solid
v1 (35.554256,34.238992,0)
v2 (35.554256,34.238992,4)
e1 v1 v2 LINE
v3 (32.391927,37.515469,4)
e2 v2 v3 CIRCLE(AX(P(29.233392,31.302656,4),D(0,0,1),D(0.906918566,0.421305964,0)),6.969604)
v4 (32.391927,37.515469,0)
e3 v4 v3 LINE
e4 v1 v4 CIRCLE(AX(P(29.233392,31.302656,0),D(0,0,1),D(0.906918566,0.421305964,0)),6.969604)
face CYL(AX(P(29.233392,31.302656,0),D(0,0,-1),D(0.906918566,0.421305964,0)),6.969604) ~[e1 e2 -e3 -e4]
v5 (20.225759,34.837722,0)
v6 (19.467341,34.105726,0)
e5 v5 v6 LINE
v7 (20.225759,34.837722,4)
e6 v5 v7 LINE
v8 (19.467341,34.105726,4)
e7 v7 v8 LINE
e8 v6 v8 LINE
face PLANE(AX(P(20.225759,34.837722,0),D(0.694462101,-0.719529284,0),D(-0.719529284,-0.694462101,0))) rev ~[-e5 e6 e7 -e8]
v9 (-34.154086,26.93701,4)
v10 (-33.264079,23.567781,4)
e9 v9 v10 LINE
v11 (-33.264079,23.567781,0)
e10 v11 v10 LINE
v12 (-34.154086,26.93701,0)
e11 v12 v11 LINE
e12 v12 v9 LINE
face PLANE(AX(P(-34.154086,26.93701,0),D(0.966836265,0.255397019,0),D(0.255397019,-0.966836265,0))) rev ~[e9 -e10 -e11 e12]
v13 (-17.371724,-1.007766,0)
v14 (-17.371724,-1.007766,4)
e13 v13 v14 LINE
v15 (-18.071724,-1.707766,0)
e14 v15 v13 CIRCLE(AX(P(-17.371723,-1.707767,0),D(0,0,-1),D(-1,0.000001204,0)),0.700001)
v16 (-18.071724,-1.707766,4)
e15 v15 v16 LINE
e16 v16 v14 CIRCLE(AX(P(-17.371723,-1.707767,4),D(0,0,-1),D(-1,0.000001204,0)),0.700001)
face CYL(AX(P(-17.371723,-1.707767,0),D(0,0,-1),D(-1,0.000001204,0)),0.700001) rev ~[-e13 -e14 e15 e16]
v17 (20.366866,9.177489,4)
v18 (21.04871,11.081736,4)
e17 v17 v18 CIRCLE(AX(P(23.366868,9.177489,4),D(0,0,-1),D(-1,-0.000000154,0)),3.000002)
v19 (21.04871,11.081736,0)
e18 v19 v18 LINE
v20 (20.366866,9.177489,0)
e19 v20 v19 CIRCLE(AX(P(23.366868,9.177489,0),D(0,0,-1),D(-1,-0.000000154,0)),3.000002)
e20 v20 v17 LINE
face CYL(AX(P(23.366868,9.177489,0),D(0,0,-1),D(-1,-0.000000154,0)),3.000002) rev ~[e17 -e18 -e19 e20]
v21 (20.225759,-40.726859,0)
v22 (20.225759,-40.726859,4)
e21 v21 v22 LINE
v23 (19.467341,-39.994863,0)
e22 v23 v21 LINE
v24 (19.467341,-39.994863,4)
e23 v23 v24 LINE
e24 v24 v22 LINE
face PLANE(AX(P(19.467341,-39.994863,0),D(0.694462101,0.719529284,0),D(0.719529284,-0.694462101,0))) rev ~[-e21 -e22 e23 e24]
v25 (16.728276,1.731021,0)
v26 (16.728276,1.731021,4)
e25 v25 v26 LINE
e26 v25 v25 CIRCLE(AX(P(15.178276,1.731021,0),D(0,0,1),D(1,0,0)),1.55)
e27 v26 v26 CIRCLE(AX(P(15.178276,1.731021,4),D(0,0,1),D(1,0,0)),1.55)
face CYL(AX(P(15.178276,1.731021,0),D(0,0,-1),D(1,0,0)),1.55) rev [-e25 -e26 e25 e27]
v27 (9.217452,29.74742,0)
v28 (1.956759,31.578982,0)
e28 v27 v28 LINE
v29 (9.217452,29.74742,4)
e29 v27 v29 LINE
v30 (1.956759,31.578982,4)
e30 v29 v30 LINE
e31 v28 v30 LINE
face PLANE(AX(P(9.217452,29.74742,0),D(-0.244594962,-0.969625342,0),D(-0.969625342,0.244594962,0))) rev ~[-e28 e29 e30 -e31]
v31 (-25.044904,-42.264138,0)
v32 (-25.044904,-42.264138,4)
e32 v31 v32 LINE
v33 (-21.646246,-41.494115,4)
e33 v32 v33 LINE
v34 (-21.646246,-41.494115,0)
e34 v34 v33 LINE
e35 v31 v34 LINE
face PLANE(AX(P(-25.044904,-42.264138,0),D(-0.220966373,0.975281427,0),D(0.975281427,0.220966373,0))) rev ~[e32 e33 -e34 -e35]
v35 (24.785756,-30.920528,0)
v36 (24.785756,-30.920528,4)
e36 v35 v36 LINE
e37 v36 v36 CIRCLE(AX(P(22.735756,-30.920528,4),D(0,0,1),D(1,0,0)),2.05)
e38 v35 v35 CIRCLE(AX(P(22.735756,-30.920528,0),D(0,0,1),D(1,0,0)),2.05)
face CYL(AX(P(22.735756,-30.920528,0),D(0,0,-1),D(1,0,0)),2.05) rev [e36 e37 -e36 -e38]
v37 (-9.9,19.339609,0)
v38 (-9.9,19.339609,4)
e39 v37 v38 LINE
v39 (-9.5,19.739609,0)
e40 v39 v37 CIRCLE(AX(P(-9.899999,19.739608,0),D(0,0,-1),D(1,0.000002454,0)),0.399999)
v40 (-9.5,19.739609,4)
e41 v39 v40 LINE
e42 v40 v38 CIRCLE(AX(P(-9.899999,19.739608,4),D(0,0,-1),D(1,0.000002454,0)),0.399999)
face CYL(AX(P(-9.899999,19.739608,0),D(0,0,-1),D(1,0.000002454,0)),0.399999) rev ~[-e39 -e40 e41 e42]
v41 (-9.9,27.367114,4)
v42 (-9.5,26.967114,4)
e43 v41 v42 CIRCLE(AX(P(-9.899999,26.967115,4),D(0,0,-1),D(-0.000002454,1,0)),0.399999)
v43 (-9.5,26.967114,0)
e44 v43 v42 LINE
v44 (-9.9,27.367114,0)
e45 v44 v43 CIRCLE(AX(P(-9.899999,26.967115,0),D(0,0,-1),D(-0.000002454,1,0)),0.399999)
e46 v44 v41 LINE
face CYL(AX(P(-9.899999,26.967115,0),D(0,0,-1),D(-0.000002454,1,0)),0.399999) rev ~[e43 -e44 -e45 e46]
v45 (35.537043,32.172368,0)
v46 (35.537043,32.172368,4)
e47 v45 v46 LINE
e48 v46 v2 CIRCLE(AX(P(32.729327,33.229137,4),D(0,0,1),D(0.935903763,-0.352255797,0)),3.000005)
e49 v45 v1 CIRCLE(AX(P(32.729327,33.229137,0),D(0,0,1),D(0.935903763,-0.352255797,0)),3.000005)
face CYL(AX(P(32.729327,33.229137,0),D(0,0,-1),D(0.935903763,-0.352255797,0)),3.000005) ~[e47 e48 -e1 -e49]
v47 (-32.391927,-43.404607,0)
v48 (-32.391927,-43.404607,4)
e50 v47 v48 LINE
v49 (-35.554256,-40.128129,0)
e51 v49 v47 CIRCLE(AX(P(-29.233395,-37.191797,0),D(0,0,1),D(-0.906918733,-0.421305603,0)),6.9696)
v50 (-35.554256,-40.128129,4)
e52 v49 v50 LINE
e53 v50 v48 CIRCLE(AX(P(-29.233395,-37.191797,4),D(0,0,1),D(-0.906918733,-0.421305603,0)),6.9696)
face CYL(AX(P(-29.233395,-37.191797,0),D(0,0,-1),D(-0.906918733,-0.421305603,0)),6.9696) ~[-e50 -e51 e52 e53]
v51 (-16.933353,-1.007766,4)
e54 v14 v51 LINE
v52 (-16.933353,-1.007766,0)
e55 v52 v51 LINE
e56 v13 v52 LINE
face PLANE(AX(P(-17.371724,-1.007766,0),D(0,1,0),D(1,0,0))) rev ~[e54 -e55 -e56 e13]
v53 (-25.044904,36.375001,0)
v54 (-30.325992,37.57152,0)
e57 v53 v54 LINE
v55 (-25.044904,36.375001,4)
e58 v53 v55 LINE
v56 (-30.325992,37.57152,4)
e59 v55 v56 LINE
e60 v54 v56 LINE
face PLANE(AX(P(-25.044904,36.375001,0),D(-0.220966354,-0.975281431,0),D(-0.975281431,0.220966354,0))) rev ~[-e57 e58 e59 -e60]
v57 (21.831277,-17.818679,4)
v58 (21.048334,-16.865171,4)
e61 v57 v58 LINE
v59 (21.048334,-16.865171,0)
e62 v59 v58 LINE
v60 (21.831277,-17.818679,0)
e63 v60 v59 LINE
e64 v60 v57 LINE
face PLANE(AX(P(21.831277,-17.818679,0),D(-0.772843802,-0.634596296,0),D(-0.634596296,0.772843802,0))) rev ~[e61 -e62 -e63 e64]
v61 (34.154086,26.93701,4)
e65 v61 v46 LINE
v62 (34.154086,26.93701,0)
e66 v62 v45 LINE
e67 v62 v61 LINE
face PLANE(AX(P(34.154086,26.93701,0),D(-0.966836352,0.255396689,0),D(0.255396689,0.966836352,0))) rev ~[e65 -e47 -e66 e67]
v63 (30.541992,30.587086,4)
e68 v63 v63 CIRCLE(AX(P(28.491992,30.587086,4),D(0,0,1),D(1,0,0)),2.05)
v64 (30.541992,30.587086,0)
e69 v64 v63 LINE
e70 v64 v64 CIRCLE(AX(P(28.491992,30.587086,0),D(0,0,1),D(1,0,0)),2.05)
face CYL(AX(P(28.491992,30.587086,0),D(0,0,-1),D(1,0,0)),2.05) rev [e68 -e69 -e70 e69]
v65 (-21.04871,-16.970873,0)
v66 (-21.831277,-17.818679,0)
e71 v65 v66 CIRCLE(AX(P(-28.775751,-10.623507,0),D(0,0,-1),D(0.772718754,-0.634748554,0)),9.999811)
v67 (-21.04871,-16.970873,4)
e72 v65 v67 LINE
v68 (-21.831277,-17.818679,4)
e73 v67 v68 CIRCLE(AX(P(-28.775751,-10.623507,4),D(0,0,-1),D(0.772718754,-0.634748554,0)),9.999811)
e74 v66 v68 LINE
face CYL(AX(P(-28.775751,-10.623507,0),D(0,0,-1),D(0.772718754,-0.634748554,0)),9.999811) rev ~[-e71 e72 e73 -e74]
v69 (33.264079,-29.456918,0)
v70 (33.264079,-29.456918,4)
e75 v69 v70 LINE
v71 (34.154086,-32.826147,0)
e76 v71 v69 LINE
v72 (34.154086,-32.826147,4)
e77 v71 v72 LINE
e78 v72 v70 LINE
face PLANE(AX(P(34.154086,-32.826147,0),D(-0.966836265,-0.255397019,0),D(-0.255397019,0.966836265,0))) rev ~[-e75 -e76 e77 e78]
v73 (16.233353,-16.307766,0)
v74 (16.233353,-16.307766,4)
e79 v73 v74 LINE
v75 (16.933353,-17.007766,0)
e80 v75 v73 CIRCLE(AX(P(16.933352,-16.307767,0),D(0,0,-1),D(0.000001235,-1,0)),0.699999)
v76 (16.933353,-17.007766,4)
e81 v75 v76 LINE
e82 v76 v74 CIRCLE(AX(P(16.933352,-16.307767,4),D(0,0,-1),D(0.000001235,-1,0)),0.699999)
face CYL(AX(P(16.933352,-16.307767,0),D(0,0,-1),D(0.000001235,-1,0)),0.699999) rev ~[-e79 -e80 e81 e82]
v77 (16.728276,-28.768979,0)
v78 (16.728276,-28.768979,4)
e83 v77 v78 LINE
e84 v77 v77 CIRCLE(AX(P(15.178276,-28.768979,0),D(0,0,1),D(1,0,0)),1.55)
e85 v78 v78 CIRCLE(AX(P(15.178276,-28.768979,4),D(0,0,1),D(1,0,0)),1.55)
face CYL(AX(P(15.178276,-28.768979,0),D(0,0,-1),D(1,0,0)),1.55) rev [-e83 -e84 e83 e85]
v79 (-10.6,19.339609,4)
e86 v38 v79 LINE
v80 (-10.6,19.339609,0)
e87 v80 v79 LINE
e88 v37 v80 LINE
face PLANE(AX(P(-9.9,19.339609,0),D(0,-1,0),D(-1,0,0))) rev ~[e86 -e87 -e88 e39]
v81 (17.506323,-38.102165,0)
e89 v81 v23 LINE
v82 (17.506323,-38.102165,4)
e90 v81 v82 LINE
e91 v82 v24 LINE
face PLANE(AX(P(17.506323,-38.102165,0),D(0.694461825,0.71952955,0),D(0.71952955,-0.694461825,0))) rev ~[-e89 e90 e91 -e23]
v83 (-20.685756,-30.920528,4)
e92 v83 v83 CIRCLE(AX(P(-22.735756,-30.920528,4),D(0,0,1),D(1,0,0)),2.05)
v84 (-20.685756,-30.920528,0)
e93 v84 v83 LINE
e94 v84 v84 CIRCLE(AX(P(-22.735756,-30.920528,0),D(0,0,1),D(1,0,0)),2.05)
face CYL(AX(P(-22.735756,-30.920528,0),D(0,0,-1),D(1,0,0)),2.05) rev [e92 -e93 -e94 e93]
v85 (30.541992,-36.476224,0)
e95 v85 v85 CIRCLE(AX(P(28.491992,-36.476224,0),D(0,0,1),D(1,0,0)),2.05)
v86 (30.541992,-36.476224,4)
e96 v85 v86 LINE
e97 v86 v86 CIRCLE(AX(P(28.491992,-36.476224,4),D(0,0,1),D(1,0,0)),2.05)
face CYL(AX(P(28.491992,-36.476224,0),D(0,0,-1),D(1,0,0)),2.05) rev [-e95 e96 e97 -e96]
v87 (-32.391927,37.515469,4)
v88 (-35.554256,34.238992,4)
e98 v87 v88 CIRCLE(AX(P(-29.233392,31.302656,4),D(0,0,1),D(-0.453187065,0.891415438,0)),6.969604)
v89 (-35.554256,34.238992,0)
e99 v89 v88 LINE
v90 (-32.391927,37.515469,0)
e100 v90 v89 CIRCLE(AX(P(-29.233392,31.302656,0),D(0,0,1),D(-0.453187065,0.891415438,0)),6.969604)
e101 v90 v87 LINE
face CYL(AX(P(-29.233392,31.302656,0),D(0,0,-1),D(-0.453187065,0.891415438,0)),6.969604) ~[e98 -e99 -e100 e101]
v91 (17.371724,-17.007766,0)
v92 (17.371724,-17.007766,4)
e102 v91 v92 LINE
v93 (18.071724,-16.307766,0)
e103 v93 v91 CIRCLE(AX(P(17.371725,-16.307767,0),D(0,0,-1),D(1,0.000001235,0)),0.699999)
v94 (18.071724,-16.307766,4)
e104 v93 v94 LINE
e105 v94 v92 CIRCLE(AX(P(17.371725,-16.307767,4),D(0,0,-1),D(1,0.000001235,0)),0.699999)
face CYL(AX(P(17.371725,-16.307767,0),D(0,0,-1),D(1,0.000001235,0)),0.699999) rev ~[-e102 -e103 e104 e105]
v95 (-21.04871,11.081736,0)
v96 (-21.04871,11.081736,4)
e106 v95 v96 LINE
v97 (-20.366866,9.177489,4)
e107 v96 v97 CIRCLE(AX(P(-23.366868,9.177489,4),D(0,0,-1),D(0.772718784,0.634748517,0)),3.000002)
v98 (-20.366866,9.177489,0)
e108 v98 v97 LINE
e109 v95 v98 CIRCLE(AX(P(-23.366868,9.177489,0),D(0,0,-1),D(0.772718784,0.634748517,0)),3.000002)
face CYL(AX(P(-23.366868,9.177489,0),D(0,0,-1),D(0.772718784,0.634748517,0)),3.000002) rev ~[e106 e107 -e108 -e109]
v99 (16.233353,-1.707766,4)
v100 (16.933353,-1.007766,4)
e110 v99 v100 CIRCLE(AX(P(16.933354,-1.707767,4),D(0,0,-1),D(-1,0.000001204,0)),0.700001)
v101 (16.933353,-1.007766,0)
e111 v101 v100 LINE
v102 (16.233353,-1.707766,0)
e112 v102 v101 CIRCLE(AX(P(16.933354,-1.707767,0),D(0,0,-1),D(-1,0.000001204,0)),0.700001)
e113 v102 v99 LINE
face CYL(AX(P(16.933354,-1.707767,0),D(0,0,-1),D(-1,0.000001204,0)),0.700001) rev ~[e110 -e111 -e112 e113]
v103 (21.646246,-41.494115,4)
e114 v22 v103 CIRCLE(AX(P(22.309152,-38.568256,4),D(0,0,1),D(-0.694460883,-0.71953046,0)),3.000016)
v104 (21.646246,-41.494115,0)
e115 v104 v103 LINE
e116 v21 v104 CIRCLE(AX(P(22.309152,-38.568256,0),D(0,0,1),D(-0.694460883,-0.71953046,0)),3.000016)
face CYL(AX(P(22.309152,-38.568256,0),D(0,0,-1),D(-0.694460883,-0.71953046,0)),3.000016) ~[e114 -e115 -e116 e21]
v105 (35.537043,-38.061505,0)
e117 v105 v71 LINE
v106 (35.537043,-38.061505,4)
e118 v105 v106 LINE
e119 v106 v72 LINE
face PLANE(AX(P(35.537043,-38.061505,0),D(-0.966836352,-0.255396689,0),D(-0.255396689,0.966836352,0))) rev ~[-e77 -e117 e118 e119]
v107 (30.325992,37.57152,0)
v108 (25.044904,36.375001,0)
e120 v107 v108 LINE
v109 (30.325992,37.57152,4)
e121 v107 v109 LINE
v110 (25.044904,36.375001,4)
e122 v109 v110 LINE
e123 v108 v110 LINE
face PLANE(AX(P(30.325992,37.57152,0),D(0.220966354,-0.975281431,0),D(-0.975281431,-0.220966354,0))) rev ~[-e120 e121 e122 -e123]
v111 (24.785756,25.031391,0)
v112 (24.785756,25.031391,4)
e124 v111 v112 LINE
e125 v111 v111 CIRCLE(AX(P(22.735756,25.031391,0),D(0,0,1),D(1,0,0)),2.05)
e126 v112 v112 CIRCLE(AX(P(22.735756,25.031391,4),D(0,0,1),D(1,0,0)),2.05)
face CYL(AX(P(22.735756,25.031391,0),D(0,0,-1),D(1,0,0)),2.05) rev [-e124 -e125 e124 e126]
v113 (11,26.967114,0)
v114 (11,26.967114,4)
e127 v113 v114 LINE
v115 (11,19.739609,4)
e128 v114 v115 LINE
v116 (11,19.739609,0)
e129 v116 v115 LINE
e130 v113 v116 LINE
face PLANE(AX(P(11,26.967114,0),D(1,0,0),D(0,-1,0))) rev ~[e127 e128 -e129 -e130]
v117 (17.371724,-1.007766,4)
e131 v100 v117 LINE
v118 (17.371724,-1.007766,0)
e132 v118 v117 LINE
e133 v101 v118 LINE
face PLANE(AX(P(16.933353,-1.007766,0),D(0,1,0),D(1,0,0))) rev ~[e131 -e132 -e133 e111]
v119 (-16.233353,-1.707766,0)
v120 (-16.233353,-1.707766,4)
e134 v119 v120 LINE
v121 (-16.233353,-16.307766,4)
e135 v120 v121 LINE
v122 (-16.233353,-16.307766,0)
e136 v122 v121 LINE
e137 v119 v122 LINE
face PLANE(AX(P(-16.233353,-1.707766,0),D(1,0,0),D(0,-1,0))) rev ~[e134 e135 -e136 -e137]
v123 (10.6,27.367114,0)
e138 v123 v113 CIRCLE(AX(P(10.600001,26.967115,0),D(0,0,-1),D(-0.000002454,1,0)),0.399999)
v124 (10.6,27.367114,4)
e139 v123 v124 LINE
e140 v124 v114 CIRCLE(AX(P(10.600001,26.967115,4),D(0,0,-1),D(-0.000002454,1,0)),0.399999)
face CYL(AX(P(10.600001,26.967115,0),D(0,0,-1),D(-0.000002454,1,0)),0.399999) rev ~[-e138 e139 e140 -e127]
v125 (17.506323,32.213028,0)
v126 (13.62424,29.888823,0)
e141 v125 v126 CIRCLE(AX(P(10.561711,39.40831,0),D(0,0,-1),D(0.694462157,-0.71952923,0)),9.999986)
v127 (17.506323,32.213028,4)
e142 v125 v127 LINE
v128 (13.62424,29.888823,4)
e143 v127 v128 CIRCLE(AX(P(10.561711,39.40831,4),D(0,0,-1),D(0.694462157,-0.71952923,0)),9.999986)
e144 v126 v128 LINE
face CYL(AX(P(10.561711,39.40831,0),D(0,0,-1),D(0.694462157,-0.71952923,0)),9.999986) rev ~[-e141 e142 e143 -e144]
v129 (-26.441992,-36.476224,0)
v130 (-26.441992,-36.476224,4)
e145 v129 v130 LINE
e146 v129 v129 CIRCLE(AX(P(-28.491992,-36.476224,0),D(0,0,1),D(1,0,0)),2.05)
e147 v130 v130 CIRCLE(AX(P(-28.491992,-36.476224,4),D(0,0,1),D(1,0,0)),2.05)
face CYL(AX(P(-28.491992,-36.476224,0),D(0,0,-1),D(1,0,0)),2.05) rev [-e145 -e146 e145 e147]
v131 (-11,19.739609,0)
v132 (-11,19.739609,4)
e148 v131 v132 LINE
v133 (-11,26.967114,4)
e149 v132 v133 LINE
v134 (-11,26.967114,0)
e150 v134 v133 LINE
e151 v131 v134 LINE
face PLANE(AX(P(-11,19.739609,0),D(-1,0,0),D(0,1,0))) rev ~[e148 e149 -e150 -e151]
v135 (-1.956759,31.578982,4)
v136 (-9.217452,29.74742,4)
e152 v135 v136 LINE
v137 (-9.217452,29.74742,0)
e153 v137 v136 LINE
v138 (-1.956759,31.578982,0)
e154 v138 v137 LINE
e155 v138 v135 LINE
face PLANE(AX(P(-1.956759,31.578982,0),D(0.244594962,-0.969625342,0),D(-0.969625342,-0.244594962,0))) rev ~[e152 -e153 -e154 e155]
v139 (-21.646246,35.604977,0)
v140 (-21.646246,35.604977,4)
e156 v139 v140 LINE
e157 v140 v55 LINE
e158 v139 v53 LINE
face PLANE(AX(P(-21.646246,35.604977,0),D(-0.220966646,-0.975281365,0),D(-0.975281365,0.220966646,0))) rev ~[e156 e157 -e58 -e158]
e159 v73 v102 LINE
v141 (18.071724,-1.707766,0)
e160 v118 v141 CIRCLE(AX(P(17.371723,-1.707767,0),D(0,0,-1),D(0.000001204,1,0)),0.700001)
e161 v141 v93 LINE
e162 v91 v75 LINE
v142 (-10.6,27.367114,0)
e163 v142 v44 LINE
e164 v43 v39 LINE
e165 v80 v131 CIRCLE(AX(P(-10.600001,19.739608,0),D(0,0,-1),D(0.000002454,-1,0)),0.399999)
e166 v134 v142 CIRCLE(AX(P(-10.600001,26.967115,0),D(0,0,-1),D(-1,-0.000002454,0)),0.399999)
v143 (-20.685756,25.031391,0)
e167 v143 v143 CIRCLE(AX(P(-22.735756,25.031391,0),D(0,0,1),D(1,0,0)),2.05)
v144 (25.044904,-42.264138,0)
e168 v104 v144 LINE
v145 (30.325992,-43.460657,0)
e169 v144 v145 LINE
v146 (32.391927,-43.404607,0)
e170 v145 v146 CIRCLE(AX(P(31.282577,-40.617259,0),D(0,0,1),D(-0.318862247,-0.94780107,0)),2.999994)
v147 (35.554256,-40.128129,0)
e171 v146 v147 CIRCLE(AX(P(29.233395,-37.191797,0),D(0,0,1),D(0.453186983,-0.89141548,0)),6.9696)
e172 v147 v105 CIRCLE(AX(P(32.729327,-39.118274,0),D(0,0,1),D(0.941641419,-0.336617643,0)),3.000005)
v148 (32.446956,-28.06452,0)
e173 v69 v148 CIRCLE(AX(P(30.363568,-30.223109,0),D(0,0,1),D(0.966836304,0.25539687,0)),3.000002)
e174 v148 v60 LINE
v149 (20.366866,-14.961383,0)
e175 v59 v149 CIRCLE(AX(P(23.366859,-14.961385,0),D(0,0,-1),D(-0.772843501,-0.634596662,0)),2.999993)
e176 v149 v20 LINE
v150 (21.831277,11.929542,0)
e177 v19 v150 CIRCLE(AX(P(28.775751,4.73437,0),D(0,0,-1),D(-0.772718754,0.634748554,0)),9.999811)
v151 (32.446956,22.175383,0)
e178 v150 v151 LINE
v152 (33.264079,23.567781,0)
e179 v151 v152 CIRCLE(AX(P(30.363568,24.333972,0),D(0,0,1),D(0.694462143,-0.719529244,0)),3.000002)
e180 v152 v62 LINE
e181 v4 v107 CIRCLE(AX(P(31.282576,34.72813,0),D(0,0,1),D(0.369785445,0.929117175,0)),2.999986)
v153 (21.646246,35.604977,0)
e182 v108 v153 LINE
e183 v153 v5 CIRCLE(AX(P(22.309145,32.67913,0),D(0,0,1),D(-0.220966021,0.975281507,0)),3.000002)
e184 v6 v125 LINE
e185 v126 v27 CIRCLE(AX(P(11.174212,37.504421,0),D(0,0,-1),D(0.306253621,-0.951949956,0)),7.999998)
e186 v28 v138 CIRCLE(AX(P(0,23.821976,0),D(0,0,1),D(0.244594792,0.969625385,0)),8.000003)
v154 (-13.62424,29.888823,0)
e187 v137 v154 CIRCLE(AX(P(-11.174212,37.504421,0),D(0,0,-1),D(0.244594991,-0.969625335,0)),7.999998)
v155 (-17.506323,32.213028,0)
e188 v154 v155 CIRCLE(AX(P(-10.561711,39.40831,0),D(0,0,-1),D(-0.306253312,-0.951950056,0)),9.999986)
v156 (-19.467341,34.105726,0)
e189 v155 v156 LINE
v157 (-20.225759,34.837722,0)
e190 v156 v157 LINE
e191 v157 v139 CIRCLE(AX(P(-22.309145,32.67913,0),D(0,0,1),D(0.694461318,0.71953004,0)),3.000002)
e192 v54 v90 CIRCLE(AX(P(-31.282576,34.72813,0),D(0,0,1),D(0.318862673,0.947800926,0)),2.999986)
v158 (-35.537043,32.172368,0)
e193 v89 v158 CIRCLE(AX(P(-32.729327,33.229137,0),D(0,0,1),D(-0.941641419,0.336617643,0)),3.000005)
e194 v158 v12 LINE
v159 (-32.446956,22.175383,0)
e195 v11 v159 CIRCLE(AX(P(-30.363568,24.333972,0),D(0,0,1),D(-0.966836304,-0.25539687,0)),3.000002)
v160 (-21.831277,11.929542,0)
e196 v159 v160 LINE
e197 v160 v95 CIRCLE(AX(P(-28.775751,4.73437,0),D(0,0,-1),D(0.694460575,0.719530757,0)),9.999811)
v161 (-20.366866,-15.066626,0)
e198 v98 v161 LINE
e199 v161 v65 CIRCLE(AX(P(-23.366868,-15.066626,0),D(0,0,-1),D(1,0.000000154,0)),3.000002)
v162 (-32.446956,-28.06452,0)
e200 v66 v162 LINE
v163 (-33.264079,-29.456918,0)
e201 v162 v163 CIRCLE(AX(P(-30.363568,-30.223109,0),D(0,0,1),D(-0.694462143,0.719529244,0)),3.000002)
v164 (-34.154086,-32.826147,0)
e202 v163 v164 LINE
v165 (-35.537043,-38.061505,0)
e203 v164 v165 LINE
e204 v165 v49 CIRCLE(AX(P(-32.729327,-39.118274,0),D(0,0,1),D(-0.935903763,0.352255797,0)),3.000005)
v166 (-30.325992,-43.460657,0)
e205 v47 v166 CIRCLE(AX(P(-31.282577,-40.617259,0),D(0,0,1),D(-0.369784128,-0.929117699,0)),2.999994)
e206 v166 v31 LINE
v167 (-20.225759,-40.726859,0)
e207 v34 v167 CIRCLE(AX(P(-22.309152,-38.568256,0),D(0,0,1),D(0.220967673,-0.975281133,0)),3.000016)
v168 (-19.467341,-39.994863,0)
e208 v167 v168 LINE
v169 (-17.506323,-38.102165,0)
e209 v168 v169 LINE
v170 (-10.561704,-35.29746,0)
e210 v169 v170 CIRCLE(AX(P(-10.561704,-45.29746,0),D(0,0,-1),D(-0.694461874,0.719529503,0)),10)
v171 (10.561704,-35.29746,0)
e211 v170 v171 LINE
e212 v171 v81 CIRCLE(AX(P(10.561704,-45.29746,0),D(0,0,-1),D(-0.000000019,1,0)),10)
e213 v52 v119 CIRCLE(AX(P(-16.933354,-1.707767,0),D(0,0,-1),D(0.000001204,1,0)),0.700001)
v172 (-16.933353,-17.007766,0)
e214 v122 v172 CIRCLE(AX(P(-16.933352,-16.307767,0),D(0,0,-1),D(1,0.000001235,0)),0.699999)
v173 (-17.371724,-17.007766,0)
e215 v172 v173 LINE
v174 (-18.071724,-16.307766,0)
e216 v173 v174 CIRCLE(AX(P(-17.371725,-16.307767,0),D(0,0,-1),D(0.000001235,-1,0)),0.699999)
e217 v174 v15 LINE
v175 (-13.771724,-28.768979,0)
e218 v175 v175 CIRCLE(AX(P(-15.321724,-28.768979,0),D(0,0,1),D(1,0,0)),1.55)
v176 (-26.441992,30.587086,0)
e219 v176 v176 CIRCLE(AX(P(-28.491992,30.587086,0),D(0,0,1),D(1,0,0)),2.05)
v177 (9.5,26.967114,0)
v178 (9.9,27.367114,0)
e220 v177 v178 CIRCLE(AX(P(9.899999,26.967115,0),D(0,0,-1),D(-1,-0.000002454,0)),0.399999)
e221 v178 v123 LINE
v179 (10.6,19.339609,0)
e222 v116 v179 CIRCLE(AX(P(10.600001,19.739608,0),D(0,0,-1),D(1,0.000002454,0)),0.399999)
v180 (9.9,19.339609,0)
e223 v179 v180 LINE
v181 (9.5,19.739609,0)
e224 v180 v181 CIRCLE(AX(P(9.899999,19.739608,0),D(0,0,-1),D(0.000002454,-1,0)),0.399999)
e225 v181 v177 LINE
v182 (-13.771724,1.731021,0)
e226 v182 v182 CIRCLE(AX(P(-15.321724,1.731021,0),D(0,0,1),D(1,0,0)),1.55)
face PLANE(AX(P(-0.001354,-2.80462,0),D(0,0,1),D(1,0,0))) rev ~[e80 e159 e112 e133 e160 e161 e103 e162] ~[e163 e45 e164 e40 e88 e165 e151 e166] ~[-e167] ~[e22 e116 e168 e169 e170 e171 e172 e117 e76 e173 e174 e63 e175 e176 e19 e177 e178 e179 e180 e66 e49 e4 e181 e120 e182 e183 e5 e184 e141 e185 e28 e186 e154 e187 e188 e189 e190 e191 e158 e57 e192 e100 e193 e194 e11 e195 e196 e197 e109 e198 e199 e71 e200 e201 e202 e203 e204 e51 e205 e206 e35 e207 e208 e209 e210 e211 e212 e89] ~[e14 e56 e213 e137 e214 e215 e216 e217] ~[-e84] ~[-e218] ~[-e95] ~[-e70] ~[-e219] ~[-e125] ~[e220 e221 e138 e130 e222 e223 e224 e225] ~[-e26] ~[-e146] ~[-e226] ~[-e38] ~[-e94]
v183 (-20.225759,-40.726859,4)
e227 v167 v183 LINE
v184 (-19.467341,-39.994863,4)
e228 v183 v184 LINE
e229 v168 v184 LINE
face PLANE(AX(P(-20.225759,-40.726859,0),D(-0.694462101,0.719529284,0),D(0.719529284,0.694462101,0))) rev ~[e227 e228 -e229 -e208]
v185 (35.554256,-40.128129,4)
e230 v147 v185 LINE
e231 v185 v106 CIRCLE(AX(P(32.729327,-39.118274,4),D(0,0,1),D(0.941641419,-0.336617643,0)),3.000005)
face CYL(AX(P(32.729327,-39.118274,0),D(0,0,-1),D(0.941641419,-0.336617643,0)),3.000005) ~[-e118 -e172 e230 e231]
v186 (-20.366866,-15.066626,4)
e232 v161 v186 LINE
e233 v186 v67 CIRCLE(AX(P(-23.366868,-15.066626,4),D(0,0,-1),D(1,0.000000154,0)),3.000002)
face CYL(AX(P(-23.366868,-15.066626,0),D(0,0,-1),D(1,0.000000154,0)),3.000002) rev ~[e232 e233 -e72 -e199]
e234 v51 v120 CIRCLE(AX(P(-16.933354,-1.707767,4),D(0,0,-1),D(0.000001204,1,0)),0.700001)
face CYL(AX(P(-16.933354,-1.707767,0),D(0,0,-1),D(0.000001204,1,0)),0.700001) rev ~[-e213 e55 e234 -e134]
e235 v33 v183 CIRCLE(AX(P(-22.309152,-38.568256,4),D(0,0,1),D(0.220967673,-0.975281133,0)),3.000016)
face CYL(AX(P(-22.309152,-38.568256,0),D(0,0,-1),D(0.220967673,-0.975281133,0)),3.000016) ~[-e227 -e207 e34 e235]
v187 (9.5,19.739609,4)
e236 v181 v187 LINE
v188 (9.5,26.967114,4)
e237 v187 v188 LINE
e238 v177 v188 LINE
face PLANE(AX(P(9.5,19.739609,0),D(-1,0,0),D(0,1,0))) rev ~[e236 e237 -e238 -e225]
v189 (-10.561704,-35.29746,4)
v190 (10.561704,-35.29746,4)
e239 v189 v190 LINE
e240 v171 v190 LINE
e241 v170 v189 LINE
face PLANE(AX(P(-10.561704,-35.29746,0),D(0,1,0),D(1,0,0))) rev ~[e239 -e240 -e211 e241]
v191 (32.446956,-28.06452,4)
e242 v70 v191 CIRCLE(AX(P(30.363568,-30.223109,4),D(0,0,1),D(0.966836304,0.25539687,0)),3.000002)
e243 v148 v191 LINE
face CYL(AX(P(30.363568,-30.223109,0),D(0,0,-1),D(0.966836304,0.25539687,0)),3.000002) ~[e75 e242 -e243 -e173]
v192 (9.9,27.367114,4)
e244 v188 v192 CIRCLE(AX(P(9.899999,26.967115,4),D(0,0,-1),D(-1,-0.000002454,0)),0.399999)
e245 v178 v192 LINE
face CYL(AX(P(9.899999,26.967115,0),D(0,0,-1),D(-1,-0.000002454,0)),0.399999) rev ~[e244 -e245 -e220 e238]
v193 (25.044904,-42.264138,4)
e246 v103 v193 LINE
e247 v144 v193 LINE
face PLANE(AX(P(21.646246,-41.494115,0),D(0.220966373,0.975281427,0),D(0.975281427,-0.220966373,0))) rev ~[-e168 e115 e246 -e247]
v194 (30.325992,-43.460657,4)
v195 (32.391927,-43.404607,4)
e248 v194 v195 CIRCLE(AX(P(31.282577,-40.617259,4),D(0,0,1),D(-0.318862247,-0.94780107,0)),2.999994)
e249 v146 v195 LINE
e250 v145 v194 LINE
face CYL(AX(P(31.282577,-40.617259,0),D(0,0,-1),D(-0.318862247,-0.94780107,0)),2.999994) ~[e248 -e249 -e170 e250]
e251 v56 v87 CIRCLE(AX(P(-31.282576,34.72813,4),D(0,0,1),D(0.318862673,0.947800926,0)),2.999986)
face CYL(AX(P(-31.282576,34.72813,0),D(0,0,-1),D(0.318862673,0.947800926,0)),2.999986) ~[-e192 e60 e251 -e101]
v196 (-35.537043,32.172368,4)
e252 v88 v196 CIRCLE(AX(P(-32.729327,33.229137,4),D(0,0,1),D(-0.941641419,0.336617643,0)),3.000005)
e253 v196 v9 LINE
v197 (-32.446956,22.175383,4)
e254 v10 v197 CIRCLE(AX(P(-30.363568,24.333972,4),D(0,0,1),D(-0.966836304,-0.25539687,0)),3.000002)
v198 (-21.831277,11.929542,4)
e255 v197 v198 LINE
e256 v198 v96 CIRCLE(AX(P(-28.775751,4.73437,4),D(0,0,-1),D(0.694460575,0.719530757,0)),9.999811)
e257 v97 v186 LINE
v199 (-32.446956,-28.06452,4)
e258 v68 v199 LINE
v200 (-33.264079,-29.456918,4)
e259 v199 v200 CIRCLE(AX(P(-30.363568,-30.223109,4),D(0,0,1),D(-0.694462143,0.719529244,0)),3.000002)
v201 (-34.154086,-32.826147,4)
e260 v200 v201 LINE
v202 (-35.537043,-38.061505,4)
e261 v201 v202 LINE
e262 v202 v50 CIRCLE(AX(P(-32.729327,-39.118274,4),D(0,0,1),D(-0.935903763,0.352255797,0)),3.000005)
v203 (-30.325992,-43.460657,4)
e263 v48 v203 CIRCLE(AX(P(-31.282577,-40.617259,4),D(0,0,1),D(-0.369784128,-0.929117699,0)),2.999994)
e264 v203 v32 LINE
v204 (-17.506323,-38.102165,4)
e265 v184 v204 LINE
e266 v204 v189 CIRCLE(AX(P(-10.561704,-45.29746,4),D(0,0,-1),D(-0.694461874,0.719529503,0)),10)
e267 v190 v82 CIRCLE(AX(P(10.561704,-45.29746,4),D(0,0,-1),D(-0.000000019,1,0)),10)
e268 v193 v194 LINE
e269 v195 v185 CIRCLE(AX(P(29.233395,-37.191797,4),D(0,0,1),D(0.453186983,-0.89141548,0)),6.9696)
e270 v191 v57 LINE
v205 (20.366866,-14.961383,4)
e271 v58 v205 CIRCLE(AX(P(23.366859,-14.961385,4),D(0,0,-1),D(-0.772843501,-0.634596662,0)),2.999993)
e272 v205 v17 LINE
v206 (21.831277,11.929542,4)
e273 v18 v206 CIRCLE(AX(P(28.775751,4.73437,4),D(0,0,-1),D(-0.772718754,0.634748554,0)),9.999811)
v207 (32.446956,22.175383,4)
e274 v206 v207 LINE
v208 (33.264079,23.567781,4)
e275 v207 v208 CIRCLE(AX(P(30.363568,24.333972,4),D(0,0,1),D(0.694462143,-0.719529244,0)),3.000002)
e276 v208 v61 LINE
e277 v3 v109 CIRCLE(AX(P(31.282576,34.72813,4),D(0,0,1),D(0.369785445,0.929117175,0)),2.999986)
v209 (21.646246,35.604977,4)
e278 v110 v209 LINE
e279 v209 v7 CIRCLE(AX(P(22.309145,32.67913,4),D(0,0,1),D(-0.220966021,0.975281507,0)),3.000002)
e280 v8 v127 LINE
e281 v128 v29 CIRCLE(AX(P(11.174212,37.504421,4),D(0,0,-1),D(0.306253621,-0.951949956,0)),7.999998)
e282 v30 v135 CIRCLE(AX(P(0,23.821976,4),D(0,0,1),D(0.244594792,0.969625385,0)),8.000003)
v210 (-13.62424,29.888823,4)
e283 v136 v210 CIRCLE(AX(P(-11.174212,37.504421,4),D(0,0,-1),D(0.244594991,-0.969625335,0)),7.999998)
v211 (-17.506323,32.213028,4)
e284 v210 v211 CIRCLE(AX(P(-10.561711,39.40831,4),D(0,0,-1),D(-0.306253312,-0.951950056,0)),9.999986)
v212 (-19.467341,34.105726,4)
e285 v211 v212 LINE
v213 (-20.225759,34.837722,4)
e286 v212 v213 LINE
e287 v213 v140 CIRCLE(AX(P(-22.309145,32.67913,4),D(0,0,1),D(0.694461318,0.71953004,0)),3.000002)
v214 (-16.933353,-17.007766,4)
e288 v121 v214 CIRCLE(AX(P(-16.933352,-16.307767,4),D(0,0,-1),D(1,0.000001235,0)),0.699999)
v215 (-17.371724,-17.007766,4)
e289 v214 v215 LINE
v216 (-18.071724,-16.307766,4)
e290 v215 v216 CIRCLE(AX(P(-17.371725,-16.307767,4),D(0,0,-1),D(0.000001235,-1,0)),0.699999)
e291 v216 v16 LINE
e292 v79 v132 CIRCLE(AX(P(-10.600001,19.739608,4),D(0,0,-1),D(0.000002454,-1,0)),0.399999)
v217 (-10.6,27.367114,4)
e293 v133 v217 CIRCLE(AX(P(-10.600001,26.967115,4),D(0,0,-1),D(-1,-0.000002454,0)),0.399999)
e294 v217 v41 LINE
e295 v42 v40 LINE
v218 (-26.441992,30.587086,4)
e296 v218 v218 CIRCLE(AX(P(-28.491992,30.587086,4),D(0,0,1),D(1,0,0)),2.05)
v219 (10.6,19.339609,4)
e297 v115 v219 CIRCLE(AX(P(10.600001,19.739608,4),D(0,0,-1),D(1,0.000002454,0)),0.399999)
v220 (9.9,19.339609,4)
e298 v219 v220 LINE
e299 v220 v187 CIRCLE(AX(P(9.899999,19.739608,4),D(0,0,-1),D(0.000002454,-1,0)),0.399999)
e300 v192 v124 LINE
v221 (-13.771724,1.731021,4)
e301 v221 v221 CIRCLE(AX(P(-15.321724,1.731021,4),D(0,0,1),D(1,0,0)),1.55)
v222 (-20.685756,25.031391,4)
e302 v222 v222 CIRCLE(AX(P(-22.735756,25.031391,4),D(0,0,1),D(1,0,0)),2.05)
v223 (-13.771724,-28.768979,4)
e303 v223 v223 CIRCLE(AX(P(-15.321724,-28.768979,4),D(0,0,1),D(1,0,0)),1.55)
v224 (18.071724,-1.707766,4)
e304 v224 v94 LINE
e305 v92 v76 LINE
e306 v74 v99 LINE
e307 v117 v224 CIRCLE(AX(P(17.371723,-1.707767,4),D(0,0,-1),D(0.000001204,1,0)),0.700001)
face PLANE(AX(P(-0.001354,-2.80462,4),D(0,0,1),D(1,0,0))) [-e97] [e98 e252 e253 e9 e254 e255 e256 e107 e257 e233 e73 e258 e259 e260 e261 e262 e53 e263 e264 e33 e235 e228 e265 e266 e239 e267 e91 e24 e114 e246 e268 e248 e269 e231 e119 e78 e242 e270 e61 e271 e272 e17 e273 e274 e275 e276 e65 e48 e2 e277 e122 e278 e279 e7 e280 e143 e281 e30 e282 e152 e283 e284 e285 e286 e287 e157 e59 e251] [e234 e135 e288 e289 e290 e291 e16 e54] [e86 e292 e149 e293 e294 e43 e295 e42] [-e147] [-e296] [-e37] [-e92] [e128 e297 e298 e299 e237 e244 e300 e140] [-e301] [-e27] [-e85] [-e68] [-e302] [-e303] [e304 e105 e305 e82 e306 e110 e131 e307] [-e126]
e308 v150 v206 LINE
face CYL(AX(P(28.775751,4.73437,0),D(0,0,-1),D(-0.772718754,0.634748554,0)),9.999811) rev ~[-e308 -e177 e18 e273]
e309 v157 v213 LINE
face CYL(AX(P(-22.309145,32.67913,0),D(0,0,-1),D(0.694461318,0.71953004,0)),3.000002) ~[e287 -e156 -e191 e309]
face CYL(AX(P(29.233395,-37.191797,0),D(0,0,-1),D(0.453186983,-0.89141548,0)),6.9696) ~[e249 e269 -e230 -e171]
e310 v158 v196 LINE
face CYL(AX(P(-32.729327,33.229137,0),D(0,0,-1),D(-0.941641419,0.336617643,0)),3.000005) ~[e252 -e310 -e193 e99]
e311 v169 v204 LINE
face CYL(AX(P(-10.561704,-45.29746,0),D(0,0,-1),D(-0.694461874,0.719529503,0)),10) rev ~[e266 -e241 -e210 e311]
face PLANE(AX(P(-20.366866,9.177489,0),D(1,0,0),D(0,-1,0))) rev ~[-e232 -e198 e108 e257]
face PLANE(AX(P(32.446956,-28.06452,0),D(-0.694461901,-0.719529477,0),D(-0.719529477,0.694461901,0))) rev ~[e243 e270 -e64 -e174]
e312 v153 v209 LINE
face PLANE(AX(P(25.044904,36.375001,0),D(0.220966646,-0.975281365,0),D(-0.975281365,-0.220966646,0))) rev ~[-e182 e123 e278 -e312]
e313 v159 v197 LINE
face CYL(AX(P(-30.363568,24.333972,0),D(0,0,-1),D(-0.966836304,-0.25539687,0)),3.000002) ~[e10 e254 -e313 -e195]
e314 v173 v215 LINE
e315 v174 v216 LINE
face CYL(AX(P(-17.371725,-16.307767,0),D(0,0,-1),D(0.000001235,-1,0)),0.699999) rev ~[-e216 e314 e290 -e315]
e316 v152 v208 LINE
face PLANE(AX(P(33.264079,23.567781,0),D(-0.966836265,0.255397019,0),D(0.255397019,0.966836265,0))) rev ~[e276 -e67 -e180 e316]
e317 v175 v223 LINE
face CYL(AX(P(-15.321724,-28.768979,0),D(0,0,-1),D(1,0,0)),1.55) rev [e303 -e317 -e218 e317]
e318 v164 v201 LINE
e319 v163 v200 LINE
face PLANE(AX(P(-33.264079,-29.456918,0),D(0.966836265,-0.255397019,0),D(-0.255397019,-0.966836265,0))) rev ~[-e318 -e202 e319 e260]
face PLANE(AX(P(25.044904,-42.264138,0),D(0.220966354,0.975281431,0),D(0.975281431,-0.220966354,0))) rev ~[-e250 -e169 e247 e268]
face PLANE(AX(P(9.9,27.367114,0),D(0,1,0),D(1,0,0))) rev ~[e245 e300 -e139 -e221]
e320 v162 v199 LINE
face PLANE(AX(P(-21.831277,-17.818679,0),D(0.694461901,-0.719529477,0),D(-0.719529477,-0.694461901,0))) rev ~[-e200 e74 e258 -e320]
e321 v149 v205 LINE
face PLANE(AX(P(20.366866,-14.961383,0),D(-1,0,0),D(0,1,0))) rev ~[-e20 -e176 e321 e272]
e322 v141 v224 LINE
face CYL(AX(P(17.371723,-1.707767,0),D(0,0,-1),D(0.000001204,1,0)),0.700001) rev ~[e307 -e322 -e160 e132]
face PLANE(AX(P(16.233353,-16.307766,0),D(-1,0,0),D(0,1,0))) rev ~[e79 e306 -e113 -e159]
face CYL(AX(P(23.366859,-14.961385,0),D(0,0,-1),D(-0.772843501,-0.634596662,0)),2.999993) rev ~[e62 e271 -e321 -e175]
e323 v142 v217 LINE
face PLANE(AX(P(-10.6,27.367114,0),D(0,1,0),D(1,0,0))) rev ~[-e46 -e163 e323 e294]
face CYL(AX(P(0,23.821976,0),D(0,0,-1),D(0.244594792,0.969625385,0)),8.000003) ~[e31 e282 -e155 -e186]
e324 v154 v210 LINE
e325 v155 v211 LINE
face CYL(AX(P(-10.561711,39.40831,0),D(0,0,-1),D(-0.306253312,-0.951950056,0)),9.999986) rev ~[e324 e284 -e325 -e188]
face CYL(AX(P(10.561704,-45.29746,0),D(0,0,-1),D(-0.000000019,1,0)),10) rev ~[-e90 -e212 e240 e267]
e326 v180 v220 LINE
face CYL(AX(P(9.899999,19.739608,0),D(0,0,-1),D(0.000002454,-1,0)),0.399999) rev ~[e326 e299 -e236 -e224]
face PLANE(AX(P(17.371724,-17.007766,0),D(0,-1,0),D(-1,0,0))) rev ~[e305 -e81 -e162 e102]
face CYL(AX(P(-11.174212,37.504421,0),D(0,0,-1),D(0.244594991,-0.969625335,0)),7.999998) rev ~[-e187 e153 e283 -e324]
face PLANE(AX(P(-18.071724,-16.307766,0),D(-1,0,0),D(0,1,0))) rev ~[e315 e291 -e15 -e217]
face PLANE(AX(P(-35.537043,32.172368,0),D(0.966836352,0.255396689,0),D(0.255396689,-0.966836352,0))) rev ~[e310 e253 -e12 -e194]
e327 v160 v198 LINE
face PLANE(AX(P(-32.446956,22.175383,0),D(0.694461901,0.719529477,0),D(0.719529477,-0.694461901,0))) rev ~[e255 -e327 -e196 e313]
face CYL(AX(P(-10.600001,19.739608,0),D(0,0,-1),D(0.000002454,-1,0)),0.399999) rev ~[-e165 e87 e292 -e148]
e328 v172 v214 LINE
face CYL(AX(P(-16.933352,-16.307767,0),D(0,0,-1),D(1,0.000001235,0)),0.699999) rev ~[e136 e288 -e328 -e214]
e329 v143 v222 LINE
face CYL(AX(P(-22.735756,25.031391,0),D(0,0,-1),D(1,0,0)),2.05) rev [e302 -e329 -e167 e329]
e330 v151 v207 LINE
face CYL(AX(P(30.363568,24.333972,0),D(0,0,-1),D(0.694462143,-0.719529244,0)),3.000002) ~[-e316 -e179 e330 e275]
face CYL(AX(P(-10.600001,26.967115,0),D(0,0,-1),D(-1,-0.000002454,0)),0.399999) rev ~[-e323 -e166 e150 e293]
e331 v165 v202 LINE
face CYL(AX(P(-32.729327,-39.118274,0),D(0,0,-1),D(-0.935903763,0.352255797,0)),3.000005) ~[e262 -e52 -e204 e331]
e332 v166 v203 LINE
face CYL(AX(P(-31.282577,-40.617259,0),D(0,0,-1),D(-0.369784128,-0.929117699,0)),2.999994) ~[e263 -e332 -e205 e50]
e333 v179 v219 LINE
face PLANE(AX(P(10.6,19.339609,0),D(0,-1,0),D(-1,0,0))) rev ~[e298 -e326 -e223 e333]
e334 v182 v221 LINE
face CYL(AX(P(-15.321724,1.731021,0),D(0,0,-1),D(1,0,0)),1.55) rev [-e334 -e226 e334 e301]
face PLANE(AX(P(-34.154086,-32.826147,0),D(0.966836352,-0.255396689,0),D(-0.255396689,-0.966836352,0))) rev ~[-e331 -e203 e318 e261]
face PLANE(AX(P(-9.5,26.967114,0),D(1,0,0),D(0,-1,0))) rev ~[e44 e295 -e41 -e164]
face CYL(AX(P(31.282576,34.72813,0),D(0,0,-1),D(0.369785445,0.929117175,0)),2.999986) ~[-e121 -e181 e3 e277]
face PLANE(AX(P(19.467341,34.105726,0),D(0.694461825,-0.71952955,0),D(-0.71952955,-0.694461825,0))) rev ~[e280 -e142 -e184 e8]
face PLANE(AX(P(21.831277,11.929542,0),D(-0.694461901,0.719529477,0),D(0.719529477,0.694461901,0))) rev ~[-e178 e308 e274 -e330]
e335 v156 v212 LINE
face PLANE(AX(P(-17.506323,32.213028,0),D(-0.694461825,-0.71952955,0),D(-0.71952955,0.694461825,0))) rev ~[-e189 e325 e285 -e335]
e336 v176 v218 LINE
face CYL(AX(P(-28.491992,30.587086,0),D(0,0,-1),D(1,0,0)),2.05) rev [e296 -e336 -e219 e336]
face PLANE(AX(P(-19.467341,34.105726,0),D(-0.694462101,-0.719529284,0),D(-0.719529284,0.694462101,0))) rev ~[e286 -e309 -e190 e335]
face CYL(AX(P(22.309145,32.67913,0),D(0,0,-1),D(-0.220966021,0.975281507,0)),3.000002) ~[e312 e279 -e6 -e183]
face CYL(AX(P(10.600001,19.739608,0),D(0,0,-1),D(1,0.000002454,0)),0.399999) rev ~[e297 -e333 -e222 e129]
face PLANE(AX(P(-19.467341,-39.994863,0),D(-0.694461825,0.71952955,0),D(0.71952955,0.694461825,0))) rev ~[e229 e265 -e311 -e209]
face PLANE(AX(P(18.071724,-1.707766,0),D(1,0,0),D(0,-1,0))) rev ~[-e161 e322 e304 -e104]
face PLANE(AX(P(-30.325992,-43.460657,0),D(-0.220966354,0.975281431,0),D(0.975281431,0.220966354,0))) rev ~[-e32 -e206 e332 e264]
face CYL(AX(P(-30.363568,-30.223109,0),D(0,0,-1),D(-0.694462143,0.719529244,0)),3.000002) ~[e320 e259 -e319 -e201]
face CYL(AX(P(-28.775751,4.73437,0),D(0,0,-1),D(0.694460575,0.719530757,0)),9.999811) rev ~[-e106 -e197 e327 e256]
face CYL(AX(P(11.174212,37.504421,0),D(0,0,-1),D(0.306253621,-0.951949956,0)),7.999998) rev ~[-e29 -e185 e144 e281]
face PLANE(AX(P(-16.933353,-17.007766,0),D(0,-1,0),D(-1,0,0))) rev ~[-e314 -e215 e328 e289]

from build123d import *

# Parameters (mm, degrees)
F0_R     = 2.05
F0_R_2   = 1.55
F1_DEPTH = 4


with BuildPart() as f1:
    # F0 (on Top) → F1 (new body)
    with BuildSketch(Plane.XY):
        with BuildLine():
            ThreePointArc((20.225759, -40.726859), (20.88342, -41.207836), (21.646246, -41.494115))
            Line((21.646246, -41.494115), (25.044904, -42.264138))
            Line((25.044904, -42.264138), (30.325992, -43.460657))
            ThreePointArc((30.325992, -43.460657), (31.363938, -43.61615), (32.391927, -43.404607))
            ThreePointArc((32.391927, -43.404607), (34.248228, -42.031919), (35.554256, -40.128129))
            ThreePointArc((35.554256, -40.128129), (35.729228, -39.093288), (35.537043, -38.061505))
            Line((35.537043, -38.061505), (34.154086, -32.826147))
            Line((34.154086, -32.826147), (33.264079, -29.456918))
            ThreePointArc((33.264079, -29.456918), (32.950942, -28.704719), (32.446956, -28.06452))
            Line((32.446956, -28.06452), (21.831277, -17.818679))
            Line((21.831277, -17.818679), (21.048334, -16.865171))
            ThreePointArc((21.048334, -16.865171), (20.542366, -15.972423), (20.366866, -14.961383))
            Line((20.366866, -14.961383), (20.366866, 9.177489))
            ThreePointArc((20.366866, 9.177489), (20.542466, 10.188808), (21.04871, 11.081736))
            ThreePointArc((21.04871, 11.081736), (21.427756, 11.516935), (21.831277, 11.929542))
            Line((21.831277, 11.929542), (32.446956, 22.175383))
            ThreePointArc((32.446956, 22.175383), (32.950942, 22.815582), (33.264079, 23.567781))
            Line((33.264079, 23.567781), (34.154086, 26.93701))
            Line((34.154086, 26.93701), (35.537043, 32.172368))
            ThreePointArc((35.537043, 32.172368), (35.729228, 33.204151), (35.554256, 34.238992))
            ThreePointArc((35.554256, 34.238992), (34.248228, 36.142781), (32.391927, 37.515469))
            ThreePointArc((32.391927, 37.515469), (31.363938, 37.727013), (30.325992, 37.57152))
            Line((30.325992, 37.57152), (25.044904, 36.375001))
            Line((25.044904, 36.375001), (21.646246, 35.604977))
            ThreePointArc((21.646246, 35.604977), (20.88342, 35.318699), (20.225759, 34.837722))
            Line((20.225759, 34.837722), (19.467341, 34.105726))
            Line((19.467341, 34.105726), (17.506323, 32.213028))
            ThreePointArc((17.506323, 32.213028), (15.698461, 30.828478), (13.62424, 29.888823))
            ThreePointArc((13.62424, 29.888823), (11.43078, 29.508538), (9.217452, 29.74742))
            Line((9.217452, 29.74742), (1.956759, 31.578982))
            ThreePointArc((1.956759, 31.578982), (0, 31.821979), (-1.956759, 31.578982))
            Line((-1.956759, 31.578982), (-9.217452, 29.74742))
            ThreePointArc((-9.217452, 29.74742), (-11.43078, 29.508538), (-13.62424, 29.888823))
            ThreePointArc((-13.62424, 29.888823), (-15.698461, 30.828478), (-17.506323, 32.213028))
            Line((-17.506323, 32.213028), (-19.467341, 34.105726))
            Line((-19.467341, 34.105726), (-20.225759, 34.837722))
            ThreePointArc((-20.225759, 34.837722), (-20.88342, 35.318699), (-21.646246, 35.604977))
            Line((-21.646246, 35.604977), (-25.044904, 36.375001))
            Line((-25.044904, 36.375001), (-30.325992, 37.57152))
            ThreePointArc((-30.325992, 37.57152), (-31.363938, 37.727013), (-32.391927, 37.515469))
            ThreePointArc((-32.391927, 37.515469), (-34.248228, 36.142781), (-35.554256, 34.238992))
            ThreePointArc((-35.554256, 34.238992), (-35.729228, 33.204151), (-35.537043, 32.172368))
            Line((-35.537043, 32.172368), (-34.154086, 26.93701))
            Line((-34.154086, 26.93701), (-33.264079, 23.567781))
            ThreePointArc((-33.264079, 23.567781), (-32.950942, 22.815582), (-32.446956, 22.175383))
            Line((-32.446956, 22.175383), (-21.831277, 11.929542))
            ThreePointArc((-21.831277, 11.929542), (-21.427756, 11.516935), (-21.04871, 11.081736))
            ThreePointArc((-21.04871, 11.081736), (-20.542466, 10.188808), (-20.366866, 9.177489))
            Line((-20.366866, 9.177489), (-20.366866, -15.066626))
            ThreePointArc((-20.366866, -15.066626), (-20.542466, -16.077945), (-21.04871, -16.970873))
            ThreePointArc((-21.04871, -16.970873), (-21.427756, -17.406072), (-21.831277, -17.818679))
            Line((-21.831277, -17.818679), (-32.446956, -28.06452))
            ThreePointArc((-32.446956, -28.06452), (-32.950942, -28.704719), (-33.264079, -29.456918))
            Line((-33.264079, -29.456918), (-34.154086, -32.826147))
            Line((-34.154086, -32.826147), (-35.537043, -38.061505))
            ThreePointArc((-35.537043, -38.061505), (-35.729228, -39.093288), (-35.554256, -40.128129))
            ThreePointArc((-35.554256, -40.128129), (-34.248228, -42.031919), (-32.391927, -43.404607))
            ThreePointArc((-32.391927, -43.404607), (-31.363938, -43.61615), (-30.325992, -43.460657))
            Line((-30.325992, -43.460657), (-25.044904, -42.264138))
            Line((-25.044904, -42.264138), (-21.646246, -41.494115))
            ThreePointArc((-21.646246, -41.494115), (-20.88342, -41.207836), (-20.225759, -40.726859))
            Line((-20.225759, -40.726859), (-19.467341, -39.994863))
            Line((-19.467341, -39.994863), (-17.506323, -38.102165))
            ThreePointArc((-17.506323, -38.102165), (-14.306504, -36.02511), (-10.561704, -35.29746))
            Line((-10.561704, -35.29746), (10.561704, -35.29746))
            ThreePointArc((10.561704, -35.29746), (14.306504, -36.02511), (17.506323, -38.102165))
            Line((17.506323, -38.102165), (19.467341, -39.994863))
            Line((19.467341, -39.994863), (20.225759, -40.726859))
        make_face()
        with Locations((-28.491992, -36.476224)):
            Circle(F0_R, mode=Mode.SUBTRACT)
        with Locations((-22.735756, -30.920528)):
            Circle(F0_R, mode=Mode.SUBTRACT)
        with Locations((-15.321724, -28.768979)):
            Circle(F0_R_2, mode=Mode.SUBTRACT)
        with BuildLine():
            ThreePointArc((-16.233353, -16.307766), (-16.438378, -16.802741), (-16.933353, -17.007766))
            Line((-16.933353, -17.007766), (-17.371724, -17.007766))
            ThreePointArc((-17.371724, -17.007766), (-17.866699, -16.802741), (-18.071724, -16.307766))
            Line((-18.071724, -16.307766), (-18.071724, -1.707766))
            ThreePointArc((-18.071724, -1.707766), (-17.866699, -1.212792), (-17.371724, -1.007766))
            Line((-17.371724, -1.007766), (-16.933353, -1.007766))
            ThreePointArc((-16.933353, -1.007766), (-16.438378, -1.212792), (-16.233353, -1.707766))
            Line((-16.233353, -1.707766), (-16.233353, -16.307766))
        make_face(mode=Mode.SUBTRACT)
        with Locations((15.178276, -28.768979)):
            Circle(F0_R_2, mode=Mode.SUBTRACT)
        with Locations((28.491992, -36.476224)):
            Circle(F0_R, mode=Mode.SUBTRACT)
        with Locations((22.735756, -30.920528)):
            Circle(F0_R, mode=Mode.SUBTRACT)
        with BuildLine():
            Line((17.371724, -17.007766), (16.933353, -17.007766))
            ThreePointArc((16.933353, -17.007766), (16.438378, -16.802741), (16.233353, -16.307766))
            Line((16.233353, -16.307766), (16.233353, -1.707766))
            ThreePointArc((16.233353, -1.707766), (16.438378, -1.212792), (16.933353, -1.007766))
            Line((16.933353, -1.007766), (17.371724, -1.007766))
            ThreePointArc((17.371724, -1.007766), (17.866699, -1.212792), (18.071724, -1.707766))
            Line((18.071724, -1.707766), (18.071724, -16.307766))
            ThreePointArc((18.071724, -16.307766), (17.866699, -16.802741), (17.371724, -17.007766))
        make_face(mode=Mode.SUBTRACT)
        with Locations((-15.321724, 1.731021)):
            Circle(F0_R_2, mode=Mode.SUBTRACT)
        with Locations((-22.735756, 25.031391)):
            Circle(F0_R, mode=Mode.SUBTRACT)
        with Locations((-28.491992, 30.587086)):
            Circle(F0_R, mode=Mode.SUBTRACT)
        with BuildLine():
            Line((-10.6, 27.367114), (-9.9, 27.367114))
            ThreePointArc((-9.9, 27.367114), (-9.617157, 27.249957), (-9.5, 26.967114))
            Line((-9.5, 26.967114), (-9.5, 19.739609))
            ThreePointArc((-9.5, 19.739609), (-9.617157, 19.456766), (-9.9, 19.339609))
            Line((-9.9, 19.339609), (-10.6, 19.339609))
            ThreePointArc((-10.6, 19.339609), (-10.882843, 19.456766), (-11, 19.739609))
            Line((-11, 19.739609), (-11, 26.967114))
            ThreePointArc((-11, 26.967114), (-10.882843, 27.249957), (-10.6, 27.367114))
        make_face(mode=Mode.SUBTRACT)
        with Locations((15.178276, 1.731021)):
            Circle(F0_R_2, mode=Mode.SUBTRACT)
        with BuildLine():
            Line((9.5, 24.008841), (9.5, 26.967114))
            ThreePointArc((9.5, 26.967114), (9.617157, 27.249957), (9.9, 27.367114))
            Line((9.9, 27.367114), (10.6, 27.367114))
            ThreePointArc((10.6, 27.367114), (10.882843, 27.249957), (11, 26.967114))
            Line((11, 26.967114), (11, 19.739609))
            ThreePointArc((11, 19.739609), (10.882843, 19.456766), (10.6, 19.339609))
            Line((10.6, 19.339609), (9.9, 19.339609))
            ThreePointArc((9.9, 19.339609), (9.617157, 19.456766), (9.5, 19.739609))
            Line((9.5, 19.739609), (9.5, 24.008841))
        make_face(mode=Mode.SUBTRACT)
        with Locations((22.735756, 25.031391)):
            Circle(F0_R, mode=Mode.SUBTRACT)
        with Locations((28.491992, 30.587086)):
            Circle(F0_R, mode=Mode.SUBTRACT)
    extrude(amount=F1_DEPTH)


solid = f1.part
